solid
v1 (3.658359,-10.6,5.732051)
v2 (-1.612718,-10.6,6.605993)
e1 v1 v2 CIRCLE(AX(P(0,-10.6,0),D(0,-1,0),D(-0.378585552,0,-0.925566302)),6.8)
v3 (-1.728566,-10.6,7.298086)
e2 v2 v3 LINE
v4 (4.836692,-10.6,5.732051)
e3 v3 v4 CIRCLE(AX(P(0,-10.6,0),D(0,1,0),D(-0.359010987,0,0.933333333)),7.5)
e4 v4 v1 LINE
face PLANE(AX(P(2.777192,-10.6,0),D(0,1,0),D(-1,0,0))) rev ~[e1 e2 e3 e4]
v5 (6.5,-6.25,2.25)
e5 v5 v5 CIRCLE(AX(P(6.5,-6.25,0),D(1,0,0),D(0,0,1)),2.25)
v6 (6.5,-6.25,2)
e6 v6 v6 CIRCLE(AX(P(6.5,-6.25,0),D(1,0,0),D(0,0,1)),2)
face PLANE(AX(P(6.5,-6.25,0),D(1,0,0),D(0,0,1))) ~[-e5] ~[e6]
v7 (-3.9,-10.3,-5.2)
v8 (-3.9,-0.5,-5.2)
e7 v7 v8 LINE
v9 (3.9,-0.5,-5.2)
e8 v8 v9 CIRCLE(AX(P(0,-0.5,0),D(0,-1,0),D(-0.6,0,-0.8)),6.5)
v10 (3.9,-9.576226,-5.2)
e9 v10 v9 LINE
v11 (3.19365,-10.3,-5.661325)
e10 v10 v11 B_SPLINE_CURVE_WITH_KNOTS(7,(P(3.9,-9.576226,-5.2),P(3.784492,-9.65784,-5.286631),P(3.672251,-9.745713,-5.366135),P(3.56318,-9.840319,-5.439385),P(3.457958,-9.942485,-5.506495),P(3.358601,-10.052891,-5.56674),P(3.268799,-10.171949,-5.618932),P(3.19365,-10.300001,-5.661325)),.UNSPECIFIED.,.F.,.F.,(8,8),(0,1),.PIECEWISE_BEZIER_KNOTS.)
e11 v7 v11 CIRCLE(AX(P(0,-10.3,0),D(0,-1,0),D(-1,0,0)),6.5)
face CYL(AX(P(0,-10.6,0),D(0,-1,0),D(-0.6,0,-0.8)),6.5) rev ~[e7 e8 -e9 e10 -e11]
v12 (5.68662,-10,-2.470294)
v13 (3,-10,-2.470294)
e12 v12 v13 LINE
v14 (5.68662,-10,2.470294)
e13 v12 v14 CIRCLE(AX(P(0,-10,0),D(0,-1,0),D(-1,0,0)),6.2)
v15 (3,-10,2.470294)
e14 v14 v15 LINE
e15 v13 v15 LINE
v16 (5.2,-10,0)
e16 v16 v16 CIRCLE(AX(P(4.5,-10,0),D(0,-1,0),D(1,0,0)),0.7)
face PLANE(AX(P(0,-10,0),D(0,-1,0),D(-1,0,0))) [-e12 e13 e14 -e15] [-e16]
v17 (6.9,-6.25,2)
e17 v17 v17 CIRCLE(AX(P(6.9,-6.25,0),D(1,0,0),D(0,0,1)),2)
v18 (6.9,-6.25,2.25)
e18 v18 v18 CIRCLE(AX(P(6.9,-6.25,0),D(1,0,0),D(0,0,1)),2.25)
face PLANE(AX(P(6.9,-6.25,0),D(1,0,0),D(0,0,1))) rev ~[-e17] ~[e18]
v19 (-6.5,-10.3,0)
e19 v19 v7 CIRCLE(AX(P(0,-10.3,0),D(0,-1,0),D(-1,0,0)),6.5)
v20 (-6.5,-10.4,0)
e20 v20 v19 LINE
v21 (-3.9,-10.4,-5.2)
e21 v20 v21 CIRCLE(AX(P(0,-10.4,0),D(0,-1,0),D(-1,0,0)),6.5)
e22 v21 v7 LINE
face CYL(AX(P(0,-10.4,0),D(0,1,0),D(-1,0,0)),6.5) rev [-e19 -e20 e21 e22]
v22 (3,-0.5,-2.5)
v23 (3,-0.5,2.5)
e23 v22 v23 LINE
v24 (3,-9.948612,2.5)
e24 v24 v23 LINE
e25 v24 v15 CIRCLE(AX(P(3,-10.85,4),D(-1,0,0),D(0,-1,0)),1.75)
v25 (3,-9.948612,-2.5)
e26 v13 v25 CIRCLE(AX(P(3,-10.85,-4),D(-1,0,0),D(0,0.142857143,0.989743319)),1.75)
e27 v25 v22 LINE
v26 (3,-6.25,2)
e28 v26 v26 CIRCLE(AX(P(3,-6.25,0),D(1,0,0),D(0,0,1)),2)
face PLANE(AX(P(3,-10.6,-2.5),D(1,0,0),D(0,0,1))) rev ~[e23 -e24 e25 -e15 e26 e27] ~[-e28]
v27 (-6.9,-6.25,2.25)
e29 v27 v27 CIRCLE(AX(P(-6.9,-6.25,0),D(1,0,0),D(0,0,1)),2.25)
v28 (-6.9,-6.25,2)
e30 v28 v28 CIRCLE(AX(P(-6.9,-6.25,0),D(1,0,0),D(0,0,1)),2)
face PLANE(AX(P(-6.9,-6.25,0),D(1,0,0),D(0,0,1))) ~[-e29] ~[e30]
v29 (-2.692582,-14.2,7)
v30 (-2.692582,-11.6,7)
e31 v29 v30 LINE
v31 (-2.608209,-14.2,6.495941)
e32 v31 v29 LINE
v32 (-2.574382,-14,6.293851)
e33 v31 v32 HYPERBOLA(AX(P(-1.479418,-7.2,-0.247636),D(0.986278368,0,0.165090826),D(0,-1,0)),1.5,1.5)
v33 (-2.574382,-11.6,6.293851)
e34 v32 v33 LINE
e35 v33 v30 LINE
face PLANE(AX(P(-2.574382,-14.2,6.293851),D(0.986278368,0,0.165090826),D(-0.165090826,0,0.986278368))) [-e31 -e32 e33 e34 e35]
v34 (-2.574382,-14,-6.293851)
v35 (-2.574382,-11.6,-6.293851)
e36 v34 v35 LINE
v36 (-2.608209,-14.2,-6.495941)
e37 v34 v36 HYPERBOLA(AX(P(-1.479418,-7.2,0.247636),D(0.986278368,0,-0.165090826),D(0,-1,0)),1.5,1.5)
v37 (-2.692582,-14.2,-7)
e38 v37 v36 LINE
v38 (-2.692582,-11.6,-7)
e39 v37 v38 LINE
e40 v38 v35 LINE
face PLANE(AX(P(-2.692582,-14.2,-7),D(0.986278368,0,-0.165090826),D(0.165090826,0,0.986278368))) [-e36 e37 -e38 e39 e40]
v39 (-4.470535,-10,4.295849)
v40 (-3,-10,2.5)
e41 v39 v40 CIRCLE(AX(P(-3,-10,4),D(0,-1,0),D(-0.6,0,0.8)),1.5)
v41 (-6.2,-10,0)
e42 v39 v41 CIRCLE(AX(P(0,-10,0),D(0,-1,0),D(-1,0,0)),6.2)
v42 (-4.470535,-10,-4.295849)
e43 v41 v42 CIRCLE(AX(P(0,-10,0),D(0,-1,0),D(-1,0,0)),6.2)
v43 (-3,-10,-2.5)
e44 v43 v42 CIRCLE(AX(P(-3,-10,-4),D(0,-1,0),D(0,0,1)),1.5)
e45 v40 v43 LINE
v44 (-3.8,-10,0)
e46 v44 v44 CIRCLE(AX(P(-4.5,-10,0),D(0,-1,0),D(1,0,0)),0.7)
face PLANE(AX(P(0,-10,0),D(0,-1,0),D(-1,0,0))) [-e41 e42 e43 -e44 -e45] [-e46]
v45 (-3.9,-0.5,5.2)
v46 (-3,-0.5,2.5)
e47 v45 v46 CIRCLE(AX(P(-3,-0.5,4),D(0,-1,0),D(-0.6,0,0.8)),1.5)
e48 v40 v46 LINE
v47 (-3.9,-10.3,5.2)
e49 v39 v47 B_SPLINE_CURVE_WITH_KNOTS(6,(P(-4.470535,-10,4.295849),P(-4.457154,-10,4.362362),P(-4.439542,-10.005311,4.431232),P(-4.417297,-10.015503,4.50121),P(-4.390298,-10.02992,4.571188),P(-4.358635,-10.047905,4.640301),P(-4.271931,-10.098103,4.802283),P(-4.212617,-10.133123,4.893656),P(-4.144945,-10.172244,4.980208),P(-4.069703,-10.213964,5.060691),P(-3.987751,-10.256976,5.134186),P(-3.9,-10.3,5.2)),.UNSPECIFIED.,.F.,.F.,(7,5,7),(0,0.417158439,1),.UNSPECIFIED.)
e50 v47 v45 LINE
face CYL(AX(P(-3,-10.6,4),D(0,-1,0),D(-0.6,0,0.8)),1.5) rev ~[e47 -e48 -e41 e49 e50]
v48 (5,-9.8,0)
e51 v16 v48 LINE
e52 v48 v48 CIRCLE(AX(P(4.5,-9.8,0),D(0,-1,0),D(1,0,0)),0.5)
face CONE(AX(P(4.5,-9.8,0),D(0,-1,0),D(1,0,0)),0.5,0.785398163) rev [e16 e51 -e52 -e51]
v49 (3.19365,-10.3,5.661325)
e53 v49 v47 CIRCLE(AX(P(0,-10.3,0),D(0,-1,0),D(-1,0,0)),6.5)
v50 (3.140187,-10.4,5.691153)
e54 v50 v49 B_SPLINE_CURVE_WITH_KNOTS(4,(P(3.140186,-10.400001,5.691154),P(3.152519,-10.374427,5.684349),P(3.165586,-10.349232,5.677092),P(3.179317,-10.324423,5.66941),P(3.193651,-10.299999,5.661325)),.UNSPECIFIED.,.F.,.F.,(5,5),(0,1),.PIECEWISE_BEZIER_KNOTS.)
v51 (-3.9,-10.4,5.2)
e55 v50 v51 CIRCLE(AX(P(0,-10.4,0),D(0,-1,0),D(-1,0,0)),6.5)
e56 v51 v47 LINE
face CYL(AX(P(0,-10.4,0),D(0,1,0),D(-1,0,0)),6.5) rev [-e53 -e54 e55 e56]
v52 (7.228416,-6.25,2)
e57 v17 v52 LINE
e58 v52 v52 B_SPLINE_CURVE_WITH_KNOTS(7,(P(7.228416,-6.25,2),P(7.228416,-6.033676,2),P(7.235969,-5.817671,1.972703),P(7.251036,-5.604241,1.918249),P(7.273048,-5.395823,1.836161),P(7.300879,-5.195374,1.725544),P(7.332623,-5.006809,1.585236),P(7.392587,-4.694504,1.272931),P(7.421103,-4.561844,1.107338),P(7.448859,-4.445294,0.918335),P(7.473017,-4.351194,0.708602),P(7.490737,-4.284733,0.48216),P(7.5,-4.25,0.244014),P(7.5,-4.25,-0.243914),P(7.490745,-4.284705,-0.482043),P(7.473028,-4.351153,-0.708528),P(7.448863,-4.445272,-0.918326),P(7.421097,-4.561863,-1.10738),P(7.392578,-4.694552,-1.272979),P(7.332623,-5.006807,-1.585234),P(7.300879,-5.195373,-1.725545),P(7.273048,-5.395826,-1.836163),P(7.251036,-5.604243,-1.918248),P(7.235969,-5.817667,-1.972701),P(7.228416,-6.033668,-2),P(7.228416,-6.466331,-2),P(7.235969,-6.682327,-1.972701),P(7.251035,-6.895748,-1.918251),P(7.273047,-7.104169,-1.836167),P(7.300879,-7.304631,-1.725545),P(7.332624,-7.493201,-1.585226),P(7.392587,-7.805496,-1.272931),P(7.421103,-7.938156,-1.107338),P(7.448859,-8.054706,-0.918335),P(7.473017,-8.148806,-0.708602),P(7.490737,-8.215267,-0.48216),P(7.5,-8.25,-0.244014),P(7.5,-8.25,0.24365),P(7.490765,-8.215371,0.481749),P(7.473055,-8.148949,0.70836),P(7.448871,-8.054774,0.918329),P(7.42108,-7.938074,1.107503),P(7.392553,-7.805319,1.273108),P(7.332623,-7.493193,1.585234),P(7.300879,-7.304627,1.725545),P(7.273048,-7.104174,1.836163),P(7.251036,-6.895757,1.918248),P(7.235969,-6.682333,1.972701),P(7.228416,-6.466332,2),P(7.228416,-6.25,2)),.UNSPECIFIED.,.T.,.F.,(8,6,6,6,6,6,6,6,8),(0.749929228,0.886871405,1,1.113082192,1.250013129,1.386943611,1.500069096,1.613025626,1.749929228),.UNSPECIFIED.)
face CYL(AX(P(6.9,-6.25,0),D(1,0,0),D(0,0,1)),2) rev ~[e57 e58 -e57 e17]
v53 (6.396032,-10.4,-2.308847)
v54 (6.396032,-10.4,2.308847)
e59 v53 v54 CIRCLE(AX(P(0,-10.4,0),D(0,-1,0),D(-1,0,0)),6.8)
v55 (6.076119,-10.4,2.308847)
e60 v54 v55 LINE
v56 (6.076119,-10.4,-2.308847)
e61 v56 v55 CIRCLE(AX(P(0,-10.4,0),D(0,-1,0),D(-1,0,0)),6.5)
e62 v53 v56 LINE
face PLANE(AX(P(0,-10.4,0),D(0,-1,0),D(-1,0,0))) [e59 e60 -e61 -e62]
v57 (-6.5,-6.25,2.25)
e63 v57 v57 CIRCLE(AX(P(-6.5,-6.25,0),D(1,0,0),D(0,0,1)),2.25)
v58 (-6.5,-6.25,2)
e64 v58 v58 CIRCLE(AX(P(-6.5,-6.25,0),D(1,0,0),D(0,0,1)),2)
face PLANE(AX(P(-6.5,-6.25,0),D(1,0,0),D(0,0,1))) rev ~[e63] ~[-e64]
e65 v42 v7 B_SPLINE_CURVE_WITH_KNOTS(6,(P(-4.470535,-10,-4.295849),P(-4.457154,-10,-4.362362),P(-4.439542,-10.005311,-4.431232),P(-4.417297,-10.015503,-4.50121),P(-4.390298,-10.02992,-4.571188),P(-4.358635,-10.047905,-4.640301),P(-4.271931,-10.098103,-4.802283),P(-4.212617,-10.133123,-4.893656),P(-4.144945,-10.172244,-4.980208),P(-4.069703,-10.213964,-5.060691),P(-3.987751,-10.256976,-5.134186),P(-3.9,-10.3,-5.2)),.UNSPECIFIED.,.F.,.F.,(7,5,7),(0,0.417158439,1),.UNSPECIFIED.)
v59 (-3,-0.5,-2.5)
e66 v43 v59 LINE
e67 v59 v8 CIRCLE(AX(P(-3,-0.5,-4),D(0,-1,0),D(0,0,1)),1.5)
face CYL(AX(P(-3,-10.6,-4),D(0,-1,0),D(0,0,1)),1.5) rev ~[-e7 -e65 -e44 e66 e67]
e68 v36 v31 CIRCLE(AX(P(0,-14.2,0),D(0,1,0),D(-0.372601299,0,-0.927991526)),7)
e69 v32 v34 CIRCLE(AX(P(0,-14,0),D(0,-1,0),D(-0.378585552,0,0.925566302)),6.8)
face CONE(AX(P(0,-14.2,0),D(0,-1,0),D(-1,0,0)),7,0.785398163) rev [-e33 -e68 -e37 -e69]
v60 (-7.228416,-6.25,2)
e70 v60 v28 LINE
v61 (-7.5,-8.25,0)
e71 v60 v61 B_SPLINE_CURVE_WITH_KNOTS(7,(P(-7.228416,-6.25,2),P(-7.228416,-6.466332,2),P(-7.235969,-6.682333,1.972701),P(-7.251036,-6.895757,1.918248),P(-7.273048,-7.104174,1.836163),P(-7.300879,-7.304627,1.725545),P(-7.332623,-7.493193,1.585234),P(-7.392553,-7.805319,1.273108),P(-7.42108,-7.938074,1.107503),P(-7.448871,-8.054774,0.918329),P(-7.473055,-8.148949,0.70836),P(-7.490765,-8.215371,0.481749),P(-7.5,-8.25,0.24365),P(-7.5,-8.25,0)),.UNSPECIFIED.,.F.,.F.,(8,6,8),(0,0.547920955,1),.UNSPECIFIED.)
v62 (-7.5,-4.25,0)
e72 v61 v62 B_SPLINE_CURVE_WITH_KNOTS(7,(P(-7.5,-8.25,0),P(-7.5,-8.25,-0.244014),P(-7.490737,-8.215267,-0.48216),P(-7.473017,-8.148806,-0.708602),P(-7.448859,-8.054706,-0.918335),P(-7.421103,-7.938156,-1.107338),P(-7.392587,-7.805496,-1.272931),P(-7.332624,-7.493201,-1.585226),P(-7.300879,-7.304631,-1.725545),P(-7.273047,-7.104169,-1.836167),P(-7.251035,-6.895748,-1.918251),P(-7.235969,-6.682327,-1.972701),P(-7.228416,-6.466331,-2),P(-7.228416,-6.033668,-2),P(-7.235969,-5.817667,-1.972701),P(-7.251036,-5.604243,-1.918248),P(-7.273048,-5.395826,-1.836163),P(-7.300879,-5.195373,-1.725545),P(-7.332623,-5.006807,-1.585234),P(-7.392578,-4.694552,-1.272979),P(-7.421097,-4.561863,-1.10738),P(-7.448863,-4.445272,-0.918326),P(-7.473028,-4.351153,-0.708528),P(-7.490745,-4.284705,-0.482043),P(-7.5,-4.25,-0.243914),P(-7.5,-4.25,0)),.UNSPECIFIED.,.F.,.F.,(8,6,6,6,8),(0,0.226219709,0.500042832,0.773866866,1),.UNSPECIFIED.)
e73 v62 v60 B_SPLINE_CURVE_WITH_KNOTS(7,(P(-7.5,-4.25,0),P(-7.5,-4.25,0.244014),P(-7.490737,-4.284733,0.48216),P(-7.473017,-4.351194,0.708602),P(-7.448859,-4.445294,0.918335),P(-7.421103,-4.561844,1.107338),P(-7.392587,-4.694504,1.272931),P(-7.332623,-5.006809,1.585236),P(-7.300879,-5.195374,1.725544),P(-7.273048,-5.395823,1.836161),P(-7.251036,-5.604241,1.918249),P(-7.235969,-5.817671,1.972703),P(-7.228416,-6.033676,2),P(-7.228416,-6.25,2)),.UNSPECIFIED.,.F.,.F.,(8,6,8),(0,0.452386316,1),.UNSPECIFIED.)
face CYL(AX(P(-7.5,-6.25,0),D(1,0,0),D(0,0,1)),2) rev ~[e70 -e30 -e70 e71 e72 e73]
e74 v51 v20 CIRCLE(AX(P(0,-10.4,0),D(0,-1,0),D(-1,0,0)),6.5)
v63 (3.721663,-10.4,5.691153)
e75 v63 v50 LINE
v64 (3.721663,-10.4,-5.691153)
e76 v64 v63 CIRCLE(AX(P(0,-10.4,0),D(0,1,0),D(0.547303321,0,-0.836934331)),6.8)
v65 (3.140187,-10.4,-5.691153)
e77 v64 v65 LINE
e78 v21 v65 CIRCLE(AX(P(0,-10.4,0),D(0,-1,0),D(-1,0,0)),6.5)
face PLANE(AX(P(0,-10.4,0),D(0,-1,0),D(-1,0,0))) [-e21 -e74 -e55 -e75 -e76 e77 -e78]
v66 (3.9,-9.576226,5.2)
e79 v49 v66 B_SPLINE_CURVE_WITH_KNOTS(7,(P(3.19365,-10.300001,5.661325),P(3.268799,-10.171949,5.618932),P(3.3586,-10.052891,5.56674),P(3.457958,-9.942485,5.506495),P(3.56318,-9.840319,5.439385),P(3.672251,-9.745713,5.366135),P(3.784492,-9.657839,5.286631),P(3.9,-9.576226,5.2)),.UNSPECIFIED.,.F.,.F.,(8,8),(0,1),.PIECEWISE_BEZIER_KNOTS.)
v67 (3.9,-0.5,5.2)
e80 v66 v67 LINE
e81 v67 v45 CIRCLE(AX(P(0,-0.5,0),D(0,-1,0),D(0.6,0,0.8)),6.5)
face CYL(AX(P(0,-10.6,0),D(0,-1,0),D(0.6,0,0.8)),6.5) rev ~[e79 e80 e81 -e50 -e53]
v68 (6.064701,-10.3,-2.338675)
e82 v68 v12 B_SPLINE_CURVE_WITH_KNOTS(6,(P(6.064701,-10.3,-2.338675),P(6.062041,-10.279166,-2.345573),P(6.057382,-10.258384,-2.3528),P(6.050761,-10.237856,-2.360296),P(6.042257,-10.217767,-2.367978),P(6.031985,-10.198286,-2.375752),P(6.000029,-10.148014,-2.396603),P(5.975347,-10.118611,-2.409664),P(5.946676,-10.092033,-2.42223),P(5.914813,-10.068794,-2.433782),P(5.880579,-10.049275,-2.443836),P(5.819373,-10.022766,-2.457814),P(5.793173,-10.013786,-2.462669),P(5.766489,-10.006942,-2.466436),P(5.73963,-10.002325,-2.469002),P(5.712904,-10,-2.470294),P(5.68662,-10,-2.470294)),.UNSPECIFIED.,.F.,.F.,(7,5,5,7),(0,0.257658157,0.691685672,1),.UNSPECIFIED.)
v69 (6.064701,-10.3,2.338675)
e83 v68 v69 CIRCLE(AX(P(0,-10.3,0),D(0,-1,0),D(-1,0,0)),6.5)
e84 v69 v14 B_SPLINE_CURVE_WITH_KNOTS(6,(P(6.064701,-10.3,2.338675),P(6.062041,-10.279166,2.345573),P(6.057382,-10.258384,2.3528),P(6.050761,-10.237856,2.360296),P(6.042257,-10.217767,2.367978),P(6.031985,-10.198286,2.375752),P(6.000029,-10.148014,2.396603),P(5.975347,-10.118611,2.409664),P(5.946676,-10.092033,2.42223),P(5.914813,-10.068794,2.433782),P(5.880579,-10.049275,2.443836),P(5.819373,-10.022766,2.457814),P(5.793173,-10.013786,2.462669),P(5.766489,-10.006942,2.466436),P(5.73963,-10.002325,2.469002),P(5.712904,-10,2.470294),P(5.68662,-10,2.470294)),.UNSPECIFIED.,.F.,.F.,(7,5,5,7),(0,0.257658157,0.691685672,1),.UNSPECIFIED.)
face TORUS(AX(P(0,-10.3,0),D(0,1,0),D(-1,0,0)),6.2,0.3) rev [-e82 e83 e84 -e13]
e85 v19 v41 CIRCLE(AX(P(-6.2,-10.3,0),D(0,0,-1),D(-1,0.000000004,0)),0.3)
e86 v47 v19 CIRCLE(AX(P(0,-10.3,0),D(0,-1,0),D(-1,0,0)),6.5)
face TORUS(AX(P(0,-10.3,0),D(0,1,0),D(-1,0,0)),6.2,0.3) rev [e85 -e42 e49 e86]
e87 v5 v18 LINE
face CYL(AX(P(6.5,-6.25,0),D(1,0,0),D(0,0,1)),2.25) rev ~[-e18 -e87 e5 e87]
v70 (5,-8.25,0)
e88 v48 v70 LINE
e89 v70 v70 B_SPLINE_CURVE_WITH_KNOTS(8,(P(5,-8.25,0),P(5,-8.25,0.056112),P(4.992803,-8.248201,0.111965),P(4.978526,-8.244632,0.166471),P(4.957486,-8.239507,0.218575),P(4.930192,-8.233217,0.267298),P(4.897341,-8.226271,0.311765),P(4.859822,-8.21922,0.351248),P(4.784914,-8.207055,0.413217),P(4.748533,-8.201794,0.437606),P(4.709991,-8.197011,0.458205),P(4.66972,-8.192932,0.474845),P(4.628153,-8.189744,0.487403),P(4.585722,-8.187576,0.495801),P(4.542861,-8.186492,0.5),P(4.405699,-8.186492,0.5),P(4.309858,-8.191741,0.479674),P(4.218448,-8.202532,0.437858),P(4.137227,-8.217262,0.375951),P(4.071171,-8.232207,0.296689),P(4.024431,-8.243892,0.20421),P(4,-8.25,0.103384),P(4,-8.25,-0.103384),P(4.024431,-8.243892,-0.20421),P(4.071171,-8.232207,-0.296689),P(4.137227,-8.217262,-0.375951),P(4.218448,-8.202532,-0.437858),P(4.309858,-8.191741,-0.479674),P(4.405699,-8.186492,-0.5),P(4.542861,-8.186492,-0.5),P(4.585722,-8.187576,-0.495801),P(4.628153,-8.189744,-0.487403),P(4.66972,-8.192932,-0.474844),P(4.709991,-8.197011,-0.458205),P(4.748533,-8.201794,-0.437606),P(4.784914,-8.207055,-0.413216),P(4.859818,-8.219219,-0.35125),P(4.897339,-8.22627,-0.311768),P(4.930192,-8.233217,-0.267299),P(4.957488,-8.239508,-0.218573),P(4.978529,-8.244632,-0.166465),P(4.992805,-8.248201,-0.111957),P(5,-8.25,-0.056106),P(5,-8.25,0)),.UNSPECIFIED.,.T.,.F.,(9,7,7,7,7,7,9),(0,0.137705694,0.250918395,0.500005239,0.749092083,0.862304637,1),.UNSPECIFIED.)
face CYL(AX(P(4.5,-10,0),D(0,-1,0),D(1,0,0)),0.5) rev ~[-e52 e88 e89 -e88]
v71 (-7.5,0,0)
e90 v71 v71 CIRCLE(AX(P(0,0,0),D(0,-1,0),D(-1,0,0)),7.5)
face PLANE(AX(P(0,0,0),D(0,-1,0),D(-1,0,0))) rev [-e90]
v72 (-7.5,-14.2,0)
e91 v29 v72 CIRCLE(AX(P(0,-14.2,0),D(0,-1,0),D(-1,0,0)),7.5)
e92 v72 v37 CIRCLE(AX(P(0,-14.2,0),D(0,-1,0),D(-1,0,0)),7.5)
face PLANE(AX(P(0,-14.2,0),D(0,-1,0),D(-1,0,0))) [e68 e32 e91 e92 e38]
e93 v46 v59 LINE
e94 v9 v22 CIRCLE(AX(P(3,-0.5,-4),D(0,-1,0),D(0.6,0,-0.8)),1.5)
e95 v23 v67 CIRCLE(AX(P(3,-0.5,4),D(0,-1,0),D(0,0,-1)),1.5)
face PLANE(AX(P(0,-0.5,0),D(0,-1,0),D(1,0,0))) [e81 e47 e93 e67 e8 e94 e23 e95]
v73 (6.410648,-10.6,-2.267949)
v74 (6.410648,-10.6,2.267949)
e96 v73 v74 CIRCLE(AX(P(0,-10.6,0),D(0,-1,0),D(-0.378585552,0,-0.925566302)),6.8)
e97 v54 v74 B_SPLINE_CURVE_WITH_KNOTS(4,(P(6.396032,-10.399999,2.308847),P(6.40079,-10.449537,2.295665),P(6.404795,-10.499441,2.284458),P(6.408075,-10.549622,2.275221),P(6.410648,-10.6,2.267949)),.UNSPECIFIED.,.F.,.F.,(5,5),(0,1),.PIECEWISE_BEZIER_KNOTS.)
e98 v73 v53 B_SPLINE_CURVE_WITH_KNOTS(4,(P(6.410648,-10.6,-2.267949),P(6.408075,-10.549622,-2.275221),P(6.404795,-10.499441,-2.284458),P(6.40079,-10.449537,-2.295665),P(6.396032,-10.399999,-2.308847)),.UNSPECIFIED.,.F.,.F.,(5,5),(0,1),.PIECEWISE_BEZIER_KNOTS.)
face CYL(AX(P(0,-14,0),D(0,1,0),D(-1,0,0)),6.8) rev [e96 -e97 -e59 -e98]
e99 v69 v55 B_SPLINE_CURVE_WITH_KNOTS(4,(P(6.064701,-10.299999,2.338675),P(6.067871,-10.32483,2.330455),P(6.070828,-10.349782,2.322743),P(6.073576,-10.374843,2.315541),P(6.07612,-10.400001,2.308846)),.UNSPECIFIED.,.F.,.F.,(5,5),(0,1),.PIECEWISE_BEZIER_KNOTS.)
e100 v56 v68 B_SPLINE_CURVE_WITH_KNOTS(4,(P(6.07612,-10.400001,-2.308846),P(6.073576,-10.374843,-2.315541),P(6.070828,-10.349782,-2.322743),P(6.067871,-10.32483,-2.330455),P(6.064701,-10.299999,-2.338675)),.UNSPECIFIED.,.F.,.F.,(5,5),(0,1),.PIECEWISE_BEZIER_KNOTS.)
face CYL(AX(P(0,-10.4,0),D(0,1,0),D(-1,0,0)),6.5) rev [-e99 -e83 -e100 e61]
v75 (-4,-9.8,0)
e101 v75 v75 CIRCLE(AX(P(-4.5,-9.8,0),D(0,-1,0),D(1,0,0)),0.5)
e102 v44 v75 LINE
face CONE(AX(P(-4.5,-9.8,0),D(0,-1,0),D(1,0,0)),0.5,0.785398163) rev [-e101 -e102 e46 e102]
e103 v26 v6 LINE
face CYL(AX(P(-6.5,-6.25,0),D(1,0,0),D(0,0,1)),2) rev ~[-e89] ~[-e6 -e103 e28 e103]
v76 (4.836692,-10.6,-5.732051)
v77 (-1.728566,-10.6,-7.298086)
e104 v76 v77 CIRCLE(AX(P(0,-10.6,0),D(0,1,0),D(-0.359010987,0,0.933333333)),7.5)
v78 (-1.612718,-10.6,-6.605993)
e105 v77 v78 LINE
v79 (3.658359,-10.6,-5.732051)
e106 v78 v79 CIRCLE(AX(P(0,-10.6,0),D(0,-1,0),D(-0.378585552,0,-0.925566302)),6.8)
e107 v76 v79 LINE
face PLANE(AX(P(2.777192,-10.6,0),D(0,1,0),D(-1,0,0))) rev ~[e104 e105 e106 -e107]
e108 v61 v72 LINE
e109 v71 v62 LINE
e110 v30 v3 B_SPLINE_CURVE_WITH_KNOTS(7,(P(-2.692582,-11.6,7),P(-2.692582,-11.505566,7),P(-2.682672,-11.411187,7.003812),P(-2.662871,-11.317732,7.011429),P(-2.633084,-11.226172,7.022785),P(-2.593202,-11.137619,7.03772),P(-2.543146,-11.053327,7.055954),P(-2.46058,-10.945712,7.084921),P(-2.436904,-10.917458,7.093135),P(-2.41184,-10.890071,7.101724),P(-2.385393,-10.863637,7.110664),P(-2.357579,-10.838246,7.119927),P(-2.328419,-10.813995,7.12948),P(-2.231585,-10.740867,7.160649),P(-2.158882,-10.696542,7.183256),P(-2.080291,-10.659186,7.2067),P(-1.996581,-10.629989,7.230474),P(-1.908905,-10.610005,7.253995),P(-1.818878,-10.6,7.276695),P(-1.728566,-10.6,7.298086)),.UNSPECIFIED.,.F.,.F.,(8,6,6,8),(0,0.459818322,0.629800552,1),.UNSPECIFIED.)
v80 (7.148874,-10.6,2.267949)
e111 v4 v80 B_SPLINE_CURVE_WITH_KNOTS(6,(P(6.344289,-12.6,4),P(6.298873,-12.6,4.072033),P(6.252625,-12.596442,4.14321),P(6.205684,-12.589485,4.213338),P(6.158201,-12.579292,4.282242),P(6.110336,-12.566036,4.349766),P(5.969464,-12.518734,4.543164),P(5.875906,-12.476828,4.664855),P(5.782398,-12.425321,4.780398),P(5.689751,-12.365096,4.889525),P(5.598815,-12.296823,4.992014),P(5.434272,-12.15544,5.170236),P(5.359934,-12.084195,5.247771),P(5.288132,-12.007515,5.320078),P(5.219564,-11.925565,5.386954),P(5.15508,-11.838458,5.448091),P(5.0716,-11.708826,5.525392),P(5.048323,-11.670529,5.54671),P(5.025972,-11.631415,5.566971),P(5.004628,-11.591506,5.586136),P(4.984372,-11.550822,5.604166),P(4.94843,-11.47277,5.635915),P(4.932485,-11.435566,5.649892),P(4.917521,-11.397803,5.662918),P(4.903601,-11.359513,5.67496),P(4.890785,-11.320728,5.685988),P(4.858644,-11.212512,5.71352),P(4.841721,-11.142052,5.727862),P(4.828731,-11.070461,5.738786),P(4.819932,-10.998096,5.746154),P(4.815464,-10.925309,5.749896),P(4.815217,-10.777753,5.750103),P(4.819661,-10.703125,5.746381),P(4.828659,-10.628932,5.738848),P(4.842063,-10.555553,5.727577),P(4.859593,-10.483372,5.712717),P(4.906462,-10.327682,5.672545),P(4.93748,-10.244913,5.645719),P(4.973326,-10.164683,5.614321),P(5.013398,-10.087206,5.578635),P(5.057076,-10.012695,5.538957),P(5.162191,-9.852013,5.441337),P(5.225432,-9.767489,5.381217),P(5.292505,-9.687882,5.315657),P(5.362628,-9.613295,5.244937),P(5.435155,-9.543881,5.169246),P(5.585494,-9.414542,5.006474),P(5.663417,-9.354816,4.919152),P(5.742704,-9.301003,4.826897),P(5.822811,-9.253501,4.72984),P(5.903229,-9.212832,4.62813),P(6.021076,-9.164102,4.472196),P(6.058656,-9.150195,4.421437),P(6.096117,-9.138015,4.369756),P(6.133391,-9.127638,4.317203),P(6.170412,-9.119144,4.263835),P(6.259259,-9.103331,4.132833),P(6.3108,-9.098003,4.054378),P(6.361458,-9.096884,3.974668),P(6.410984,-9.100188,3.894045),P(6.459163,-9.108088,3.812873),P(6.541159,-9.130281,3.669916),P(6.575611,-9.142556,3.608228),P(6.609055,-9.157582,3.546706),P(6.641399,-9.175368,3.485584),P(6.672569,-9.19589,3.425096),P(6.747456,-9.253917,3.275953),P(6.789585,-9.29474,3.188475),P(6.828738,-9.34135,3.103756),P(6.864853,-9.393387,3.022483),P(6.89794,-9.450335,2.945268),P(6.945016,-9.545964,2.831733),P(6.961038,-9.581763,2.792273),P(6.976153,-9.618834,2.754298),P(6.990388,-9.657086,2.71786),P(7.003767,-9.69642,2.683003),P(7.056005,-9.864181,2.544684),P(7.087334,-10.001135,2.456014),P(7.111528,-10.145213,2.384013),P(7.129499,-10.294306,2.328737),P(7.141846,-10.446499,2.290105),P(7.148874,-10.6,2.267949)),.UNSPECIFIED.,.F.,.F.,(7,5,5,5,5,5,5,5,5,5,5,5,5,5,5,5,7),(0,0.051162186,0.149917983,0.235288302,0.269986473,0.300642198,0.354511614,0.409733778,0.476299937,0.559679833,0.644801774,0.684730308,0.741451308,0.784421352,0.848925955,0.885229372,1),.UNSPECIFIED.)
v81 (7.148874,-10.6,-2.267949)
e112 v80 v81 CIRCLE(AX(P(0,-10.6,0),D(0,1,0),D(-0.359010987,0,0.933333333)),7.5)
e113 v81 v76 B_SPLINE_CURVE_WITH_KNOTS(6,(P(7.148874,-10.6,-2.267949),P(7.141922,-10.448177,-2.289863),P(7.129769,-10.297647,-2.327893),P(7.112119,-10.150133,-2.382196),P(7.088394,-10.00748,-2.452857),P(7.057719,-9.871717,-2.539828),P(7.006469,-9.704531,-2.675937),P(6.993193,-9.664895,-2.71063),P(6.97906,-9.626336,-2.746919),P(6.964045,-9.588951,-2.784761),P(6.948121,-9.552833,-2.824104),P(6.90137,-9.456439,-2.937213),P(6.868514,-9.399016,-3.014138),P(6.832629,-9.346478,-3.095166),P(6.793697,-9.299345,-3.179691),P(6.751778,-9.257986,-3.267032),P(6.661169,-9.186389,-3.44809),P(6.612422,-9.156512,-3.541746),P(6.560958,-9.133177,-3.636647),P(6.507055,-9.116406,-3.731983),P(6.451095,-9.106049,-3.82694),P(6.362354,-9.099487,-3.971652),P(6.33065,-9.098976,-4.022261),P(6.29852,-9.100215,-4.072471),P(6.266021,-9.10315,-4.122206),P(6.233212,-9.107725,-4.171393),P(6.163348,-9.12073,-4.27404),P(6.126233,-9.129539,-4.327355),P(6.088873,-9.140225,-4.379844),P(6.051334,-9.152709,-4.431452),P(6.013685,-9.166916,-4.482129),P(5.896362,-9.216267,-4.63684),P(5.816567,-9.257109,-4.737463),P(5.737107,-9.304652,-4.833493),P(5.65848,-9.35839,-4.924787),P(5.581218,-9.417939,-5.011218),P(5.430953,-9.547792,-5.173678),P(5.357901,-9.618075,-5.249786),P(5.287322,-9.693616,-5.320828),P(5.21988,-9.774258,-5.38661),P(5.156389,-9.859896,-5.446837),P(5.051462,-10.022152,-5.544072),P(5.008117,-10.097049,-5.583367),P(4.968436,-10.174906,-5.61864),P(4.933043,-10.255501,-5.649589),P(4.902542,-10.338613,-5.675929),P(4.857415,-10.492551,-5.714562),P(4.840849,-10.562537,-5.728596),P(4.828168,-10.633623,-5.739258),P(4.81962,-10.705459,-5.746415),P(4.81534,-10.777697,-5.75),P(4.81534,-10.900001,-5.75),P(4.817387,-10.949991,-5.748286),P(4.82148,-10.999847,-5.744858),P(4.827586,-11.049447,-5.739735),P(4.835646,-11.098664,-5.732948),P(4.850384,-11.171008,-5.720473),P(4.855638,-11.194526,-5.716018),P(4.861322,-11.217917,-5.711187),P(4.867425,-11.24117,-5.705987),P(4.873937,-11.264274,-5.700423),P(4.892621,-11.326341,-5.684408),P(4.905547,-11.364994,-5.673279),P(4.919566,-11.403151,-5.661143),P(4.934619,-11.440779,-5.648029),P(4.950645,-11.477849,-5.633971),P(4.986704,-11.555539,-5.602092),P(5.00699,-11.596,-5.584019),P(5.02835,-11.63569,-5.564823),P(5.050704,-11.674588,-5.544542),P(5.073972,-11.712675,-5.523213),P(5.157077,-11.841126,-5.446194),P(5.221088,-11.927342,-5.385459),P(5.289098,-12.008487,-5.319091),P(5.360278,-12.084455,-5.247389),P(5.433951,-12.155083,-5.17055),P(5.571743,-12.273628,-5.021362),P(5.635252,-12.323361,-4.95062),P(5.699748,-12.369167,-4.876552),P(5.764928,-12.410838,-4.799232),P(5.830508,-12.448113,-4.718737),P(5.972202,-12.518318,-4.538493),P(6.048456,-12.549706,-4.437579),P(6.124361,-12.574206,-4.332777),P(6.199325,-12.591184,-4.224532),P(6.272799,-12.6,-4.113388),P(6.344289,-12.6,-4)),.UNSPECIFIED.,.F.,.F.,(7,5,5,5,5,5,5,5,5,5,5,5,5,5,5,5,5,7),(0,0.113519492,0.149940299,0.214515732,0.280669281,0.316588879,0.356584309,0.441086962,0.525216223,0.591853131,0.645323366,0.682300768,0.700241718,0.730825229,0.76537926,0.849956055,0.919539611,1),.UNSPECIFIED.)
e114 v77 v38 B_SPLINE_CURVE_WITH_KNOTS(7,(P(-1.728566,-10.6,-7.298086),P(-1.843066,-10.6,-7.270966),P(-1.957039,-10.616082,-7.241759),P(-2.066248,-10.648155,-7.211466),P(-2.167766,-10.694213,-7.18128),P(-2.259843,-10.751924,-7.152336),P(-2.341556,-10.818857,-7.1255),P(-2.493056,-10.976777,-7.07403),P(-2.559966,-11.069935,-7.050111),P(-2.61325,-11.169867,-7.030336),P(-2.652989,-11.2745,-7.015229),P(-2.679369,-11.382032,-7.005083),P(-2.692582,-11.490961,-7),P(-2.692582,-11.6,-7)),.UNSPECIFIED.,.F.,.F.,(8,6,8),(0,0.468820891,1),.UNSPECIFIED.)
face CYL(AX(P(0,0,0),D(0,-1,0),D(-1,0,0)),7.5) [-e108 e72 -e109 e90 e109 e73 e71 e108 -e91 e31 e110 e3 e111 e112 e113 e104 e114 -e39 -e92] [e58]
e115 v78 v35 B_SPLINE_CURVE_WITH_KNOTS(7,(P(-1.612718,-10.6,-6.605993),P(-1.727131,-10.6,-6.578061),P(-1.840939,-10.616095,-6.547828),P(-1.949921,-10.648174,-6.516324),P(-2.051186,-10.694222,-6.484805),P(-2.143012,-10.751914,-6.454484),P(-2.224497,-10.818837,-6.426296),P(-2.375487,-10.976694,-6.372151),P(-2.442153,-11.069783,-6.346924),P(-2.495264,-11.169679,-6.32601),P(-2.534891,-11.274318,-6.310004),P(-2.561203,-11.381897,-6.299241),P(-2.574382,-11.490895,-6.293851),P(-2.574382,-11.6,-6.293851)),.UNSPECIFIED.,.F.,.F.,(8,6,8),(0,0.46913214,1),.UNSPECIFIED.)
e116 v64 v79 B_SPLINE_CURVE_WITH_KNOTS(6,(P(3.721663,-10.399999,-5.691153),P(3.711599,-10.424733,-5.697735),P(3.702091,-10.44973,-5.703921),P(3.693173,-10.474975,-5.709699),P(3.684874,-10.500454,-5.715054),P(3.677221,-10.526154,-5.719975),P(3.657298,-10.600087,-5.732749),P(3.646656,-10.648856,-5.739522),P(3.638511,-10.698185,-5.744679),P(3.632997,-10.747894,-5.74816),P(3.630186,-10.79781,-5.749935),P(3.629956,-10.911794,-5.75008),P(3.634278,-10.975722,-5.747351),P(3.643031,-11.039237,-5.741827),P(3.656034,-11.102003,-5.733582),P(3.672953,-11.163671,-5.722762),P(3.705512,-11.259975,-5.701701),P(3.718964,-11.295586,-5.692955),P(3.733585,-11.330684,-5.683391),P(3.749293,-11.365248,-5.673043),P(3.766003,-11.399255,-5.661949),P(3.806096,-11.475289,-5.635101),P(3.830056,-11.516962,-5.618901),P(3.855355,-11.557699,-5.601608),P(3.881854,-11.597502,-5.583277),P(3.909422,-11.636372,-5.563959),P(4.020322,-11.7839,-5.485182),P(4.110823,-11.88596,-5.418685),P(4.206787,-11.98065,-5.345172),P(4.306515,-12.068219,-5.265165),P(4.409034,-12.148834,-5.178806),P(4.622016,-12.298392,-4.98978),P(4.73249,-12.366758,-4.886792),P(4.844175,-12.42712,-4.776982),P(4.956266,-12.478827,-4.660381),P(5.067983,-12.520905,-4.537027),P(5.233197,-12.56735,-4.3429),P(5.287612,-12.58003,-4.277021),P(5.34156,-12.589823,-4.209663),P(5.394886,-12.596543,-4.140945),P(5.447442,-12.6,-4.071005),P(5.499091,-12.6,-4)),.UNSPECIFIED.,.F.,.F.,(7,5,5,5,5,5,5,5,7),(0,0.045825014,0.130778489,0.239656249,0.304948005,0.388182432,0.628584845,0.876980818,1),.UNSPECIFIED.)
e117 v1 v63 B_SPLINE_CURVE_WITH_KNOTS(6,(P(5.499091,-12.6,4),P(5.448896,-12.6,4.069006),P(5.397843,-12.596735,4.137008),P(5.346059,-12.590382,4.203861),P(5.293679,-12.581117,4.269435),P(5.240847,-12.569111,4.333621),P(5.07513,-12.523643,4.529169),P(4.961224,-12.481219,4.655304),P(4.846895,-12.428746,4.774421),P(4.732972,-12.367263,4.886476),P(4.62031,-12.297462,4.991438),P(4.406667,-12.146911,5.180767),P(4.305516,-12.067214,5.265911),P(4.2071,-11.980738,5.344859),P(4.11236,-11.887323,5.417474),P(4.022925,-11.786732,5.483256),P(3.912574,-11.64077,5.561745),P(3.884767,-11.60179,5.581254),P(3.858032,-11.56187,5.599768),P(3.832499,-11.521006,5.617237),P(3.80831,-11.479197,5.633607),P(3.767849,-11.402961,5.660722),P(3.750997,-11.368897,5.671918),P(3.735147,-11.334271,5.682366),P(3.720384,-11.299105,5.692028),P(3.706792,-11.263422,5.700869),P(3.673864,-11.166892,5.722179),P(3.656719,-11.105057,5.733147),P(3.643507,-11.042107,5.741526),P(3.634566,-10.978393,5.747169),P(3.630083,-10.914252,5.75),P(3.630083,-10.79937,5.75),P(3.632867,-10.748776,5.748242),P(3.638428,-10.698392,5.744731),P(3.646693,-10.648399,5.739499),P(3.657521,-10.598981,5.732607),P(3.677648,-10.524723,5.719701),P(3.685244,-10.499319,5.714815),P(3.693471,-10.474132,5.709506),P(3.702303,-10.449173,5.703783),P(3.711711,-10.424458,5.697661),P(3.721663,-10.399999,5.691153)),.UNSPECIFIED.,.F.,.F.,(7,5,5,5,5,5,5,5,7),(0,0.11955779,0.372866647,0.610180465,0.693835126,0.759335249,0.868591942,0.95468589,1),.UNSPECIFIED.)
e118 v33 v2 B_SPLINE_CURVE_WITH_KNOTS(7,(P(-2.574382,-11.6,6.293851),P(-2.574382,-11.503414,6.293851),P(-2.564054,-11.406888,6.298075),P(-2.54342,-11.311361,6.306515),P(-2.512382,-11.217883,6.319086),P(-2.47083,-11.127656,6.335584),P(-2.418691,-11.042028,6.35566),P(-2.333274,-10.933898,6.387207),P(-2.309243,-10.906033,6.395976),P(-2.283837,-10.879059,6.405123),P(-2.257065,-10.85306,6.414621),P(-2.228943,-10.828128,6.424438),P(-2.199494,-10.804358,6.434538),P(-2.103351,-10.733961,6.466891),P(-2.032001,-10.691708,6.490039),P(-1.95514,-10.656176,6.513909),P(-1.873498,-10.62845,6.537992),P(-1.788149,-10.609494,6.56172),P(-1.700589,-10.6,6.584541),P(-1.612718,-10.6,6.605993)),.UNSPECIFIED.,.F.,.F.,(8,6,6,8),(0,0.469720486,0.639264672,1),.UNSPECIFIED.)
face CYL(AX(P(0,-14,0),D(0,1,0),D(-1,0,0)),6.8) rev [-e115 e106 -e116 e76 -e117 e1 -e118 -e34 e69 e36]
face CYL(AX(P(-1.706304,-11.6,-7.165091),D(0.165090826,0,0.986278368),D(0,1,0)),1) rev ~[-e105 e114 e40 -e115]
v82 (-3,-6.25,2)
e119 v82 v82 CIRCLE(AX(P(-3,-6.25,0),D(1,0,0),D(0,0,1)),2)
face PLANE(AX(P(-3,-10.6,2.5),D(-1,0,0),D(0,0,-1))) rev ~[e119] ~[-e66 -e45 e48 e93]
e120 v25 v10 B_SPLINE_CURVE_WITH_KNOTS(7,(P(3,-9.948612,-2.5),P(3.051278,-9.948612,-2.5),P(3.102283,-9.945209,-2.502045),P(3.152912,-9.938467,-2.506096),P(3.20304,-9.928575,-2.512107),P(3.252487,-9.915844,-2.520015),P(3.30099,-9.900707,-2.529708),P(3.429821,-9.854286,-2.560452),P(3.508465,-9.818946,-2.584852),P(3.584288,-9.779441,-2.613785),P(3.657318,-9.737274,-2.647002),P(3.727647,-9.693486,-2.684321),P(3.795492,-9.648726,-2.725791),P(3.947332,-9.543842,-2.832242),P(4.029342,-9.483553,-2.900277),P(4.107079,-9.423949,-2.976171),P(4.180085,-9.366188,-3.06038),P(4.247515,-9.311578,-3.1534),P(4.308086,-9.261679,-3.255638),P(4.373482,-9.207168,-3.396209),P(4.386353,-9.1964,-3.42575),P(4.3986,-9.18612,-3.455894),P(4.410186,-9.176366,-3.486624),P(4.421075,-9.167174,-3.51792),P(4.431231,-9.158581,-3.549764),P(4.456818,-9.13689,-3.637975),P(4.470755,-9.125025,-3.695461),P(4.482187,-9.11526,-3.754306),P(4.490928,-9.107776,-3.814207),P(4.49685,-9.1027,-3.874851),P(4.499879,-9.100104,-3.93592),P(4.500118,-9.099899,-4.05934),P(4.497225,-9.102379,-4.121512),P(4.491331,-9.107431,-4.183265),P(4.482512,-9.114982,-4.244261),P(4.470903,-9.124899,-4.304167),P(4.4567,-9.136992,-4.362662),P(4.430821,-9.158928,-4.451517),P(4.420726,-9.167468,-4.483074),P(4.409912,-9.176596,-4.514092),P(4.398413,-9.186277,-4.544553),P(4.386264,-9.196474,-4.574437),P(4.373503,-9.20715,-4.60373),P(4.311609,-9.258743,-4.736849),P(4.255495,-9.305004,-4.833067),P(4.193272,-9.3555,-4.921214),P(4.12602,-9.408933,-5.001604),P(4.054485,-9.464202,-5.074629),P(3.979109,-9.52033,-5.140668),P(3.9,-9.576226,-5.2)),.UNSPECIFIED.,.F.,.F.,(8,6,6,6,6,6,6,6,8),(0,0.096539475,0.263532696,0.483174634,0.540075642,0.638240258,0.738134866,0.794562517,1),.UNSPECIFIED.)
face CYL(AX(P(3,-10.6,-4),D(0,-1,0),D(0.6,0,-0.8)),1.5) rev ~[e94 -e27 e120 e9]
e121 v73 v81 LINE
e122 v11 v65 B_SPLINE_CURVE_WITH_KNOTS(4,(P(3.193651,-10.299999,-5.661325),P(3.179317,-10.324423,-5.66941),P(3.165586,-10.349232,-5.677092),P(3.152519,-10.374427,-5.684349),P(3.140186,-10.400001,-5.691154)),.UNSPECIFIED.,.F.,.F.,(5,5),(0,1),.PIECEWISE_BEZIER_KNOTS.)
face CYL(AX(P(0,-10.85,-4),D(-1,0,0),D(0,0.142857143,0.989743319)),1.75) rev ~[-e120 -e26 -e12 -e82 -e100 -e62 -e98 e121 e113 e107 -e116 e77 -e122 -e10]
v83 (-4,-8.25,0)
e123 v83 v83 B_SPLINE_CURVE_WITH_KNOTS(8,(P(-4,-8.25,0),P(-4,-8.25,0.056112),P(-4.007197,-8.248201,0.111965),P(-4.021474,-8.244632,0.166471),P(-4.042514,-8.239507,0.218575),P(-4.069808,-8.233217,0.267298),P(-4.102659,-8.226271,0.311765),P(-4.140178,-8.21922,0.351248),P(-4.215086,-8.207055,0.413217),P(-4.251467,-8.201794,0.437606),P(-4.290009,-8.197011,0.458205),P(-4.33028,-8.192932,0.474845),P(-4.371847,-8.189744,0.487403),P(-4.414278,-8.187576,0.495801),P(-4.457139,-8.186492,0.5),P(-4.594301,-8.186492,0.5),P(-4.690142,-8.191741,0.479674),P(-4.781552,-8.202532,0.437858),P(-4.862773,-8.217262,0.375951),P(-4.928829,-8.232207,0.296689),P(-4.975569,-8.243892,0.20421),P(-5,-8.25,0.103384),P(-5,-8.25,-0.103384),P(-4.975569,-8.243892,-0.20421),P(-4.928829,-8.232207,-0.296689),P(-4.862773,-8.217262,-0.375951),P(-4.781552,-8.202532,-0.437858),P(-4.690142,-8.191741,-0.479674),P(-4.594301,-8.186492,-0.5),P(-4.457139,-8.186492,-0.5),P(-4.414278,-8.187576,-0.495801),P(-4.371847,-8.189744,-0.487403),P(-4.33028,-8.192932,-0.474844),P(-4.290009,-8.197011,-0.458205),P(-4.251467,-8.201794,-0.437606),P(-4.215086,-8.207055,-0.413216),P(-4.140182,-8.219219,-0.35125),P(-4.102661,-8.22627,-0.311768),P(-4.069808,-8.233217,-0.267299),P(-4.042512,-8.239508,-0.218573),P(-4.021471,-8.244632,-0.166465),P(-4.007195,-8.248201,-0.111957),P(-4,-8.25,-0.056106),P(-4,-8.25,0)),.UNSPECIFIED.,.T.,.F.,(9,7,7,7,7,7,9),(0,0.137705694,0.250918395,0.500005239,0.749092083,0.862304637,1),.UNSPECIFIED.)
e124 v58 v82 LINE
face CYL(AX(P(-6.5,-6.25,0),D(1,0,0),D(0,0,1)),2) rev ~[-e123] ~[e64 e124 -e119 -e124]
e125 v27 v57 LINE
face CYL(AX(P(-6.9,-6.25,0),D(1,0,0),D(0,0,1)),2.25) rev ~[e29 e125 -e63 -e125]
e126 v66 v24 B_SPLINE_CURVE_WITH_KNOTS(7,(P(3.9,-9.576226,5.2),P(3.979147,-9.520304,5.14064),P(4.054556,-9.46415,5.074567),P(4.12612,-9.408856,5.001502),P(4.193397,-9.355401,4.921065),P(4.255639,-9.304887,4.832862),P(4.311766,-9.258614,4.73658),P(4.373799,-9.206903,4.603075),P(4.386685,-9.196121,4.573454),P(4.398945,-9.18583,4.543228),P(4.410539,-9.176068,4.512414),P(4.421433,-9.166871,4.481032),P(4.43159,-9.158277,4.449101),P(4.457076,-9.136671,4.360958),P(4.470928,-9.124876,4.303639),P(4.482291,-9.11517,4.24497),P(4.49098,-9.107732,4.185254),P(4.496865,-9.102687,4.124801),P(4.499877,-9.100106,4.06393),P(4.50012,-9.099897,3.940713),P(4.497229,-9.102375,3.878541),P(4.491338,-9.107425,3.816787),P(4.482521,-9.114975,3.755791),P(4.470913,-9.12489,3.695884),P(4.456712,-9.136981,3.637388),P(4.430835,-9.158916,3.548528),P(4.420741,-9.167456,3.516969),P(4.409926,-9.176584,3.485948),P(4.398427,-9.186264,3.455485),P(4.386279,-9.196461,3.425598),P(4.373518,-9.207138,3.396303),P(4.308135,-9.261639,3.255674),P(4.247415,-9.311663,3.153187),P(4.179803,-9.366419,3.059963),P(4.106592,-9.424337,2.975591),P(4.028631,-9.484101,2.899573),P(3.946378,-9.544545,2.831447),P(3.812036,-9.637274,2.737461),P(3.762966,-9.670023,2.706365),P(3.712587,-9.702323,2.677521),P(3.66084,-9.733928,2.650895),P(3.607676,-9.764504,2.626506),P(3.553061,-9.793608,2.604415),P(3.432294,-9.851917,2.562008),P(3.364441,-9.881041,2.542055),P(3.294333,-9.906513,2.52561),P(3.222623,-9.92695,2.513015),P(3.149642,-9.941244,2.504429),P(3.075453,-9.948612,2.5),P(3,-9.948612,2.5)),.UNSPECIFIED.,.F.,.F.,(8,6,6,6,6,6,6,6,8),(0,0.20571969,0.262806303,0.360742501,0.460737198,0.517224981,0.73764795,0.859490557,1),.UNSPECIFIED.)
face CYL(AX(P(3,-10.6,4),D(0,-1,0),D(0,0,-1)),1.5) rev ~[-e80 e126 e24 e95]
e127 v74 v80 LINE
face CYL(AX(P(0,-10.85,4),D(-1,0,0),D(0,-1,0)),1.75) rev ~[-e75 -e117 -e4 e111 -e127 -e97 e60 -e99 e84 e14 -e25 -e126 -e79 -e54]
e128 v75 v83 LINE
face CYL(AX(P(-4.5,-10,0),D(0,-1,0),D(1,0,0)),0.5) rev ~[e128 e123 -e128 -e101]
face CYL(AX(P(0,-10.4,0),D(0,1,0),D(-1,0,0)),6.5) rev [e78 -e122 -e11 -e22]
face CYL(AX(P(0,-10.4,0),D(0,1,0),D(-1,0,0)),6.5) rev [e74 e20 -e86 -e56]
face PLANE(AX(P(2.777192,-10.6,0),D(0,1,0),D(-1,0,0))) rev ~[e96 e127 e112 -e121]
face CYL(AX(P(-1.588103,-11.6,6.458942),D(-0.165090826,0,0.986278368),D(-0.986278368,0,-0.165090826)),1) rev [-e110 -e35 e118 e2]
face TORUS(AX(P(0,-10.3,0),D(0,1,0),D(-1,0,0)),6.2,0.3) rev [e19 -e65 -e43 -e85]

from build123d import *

# Parameters (mm, degrees)
CUT_EXTRUDE1_DEPTH      = 3.6
FILLET1_R               = 1
CUT_EXTRUDE2_DEPTH      = 10.1
CUT_EXTRUDE3_DEPTH      = 8.5000001
CUT_EXTRUDE4_REACH      = 12
CUT_EXTRUDE4_END_RADIUS = 2
SKETCH6_R               = 0.5
CHAMFER1_SIZE           = 0.2


with BuildPart() as part:
    # Sketch1 → Revolve1 (revolve)
    with BuildSketch(Plane.XY, mode=Mode.PRIVATE) as revolve1_sk:
        with BuildLine():
            Line((0, 0), (7.5, 0))
            Line((7.5, 0), (7.5, -14.2))
            Line((7.5, -14.2), (7, -14.2))
            Line((7, -14.2), (6.8, -14))
            Line((6.8, -14), (6.8, -10.4))
            Line((6.8, -10.4), (6.5, -10.4))
            Line((6.5, -10.4), (6.5, -10.3))
            ThreePointArc((6.5, -10.3), (6.412132034, -10.087867966), (6.2, -10))
            Line((6.2, -10), (0, -10))
            Line((0, -10), (0, 0))
        make_face()
    revolve(revolve1_sk.sketch.rotate(Axis((0, -10, 0), (0, -1, 0)), 180), axis=Axis((0, -10, 0), (0, -1, 0)))  # turned: the seam where the file's is

    # Sketch2 → Cut-Revolve1 (revolve, cut)
    with BuildSketch(Plane.XY, mode=Mode.PRIVATE) as cut_revolve1_sk:
        Polygon((-6.5, -4.25), (6.5, -4.25), (6.5, -4), (6.9, -4), (6.9, -4.25), (7.5, -4.25), (7.5, -6.25), (-7.5, -6.25), (-7.5, -4.25), (-6.9, -4.25), (-6.9, -4), (-6.5, -4), align=None)
    revolve(cut_revolve1_sk.sketch.rotate(Axis((7.5, -6.25, 0), (1, 0, 0)), 90), axis=Axis((7.5, -6.25, 0), (1, 0, 0)), mode=Mode.SUBTRACT)  # turned: the seam where the file's is

    # Sketch3 → Cut-Extrude1 (cut)
    with BuildSketch(Plane.XZ.offset(14.2)):
        with BuildLine():
            Line((-2.574381753, 6.293850856), (-2.692582404, 7))
            ThreePointArc((-2.692582404, 7), (7.5, 0), (-2.692582404, -7))
            Line((-2.692582404, -7), (-2.574381753, -6.293850856))
            ThreePointArc((-2.574381753, -6.293850856), (6.8, 0), (-2.574381753, 6.293850856))
        make_face()
    extrude(amount=-CUT_EXTRUDE1_DEPTH, mode=Mode.SUBTRACT)

    # Fillet1
    fillet1_edges = [part.edges().sort_by_distance(p)[0] for p in [
        (-2.633482078, -10.6, -6.646925428),
        (-2.633482078, -10.6, 6.646925428),
    ]]
    fillet(fillet1_edges, radius=FILLET1_R)

    # Sketch4 → Cut-Extrude2 (cut)
    with BuildSketch(Plane.XZ.offset(10.6)):
        with BuildLine():
            Line((3, -2.5), (3, 2.5))
            ThreePointArc((3, 2.5), (4.423024947, 3.525658351), (3.9, 5.2))
            ThreePointArc((3.9, 5.2), (0, 6.5), (-3.9, 5.2))
            ThreePointArc((-3.9, 5.2), (-4.423024947, 3.525658351), (-3, 2.5))
            Line((-3, 2.5), (-3, -2.5))
            ThreePointArc((-3, -2.5), (-4.423024947, -3.525658351), (-3.9, -5.2))
            ThreePointArc((-3.9, -5.2), (0, -6.5), (3.9, -5.2))
            ThreePointArc((3.9, -5.2), (4.423024947, -3.525658351), (3, -2.5))
        make_face()
    extrude(amount=-CUT_EXTRUDE2_DEPTH, mode=Mode.SUBTRACT)

    # Sketch5 → Cut-Extrude3 (cut, through all)
    with BuildSketch(Plane(origin=(0, 0, 0), x_dir=(0, 0, -1), z_dir=(1, 0, 0))):
        with BuildLine():
            Line((-2.267949192, -10.6), (2.267949192, -10.6))
            ThreePointArc((2.267949192, -10.6), (5.322875656, -9.704356076), (4, -12.6))
            Line((4, -12.6), (-4, -12.6))
            ThreePointArc((-4, -12.6), (-5.322875656, -9.704356076), (-2.267949192, -10.6))
        make_face()
    extrude(amount=CUT_EXTRUDE3_DEPTH, mode=Mode.SUBTRACT)

    # Cut-Extrude4: up to this cylinder (the profile starts outside it)
    cut_extrude4_end = Plane(origin=(0, -6.25, 0), z_dir=(-1, 0, 0)) * Cylinder(CUT_EXTRUDE4_END_RADIUS, 38, mode=Mode.PRIVATE)
    # Sketch6 → Cut-Extrude4 (cut, up to the surface)
    with BuildSketch(Plane.XZ.offset(10), mode=Mode.PRIVATE) as cut_extrude4_sk1:
        with Locations((-4.5, 0)):
            Circle(SKETCH6_R)
    cut_extrude4_tool1 = extrude(cut_extrude4_sk1.sketch, amount=-CUT_EXTRUDE4_REACH, mode=Mode.PRIVATE) - cut_extrude4_end
    add(cut_extrude4_tool1.solids().sort_by_distance((-4.5, -10, 0))[0], mode=Mode.SUBTRACT)
    # Sketch6 → Cut-Extrude4 (cut, up to the surface)
    with BuildSketch(Plane.XZ.offset(10), mode=Mode.PRIVATE) as cut_extrude4_sk2:
        with Locations((4.5, 0)):
            Circle(SKETCH6_R)
    cut_extrude4_tool2 = extrude(cut_extrude4_sk2.sketch, amount=-CUT_EXTRUDE4_REACH, mode=Mode.PRIVATE) - cut_extrude4_end
    add(cut_extrude4_tool2.solids().sort_by_distance((4.5, -10, 0))[0], mode=Mode.SUBTRACT)

    # Chamfer1
    chamfer1_edges = [part.edges().sort_by_distance(p)[0] for p in [
        (-5, -10, 0),
        (4, -10, 0),
    ]]
    chamfer(chamfer1_edges, length=CHAMFER1_SIZE)


solid = part.part
